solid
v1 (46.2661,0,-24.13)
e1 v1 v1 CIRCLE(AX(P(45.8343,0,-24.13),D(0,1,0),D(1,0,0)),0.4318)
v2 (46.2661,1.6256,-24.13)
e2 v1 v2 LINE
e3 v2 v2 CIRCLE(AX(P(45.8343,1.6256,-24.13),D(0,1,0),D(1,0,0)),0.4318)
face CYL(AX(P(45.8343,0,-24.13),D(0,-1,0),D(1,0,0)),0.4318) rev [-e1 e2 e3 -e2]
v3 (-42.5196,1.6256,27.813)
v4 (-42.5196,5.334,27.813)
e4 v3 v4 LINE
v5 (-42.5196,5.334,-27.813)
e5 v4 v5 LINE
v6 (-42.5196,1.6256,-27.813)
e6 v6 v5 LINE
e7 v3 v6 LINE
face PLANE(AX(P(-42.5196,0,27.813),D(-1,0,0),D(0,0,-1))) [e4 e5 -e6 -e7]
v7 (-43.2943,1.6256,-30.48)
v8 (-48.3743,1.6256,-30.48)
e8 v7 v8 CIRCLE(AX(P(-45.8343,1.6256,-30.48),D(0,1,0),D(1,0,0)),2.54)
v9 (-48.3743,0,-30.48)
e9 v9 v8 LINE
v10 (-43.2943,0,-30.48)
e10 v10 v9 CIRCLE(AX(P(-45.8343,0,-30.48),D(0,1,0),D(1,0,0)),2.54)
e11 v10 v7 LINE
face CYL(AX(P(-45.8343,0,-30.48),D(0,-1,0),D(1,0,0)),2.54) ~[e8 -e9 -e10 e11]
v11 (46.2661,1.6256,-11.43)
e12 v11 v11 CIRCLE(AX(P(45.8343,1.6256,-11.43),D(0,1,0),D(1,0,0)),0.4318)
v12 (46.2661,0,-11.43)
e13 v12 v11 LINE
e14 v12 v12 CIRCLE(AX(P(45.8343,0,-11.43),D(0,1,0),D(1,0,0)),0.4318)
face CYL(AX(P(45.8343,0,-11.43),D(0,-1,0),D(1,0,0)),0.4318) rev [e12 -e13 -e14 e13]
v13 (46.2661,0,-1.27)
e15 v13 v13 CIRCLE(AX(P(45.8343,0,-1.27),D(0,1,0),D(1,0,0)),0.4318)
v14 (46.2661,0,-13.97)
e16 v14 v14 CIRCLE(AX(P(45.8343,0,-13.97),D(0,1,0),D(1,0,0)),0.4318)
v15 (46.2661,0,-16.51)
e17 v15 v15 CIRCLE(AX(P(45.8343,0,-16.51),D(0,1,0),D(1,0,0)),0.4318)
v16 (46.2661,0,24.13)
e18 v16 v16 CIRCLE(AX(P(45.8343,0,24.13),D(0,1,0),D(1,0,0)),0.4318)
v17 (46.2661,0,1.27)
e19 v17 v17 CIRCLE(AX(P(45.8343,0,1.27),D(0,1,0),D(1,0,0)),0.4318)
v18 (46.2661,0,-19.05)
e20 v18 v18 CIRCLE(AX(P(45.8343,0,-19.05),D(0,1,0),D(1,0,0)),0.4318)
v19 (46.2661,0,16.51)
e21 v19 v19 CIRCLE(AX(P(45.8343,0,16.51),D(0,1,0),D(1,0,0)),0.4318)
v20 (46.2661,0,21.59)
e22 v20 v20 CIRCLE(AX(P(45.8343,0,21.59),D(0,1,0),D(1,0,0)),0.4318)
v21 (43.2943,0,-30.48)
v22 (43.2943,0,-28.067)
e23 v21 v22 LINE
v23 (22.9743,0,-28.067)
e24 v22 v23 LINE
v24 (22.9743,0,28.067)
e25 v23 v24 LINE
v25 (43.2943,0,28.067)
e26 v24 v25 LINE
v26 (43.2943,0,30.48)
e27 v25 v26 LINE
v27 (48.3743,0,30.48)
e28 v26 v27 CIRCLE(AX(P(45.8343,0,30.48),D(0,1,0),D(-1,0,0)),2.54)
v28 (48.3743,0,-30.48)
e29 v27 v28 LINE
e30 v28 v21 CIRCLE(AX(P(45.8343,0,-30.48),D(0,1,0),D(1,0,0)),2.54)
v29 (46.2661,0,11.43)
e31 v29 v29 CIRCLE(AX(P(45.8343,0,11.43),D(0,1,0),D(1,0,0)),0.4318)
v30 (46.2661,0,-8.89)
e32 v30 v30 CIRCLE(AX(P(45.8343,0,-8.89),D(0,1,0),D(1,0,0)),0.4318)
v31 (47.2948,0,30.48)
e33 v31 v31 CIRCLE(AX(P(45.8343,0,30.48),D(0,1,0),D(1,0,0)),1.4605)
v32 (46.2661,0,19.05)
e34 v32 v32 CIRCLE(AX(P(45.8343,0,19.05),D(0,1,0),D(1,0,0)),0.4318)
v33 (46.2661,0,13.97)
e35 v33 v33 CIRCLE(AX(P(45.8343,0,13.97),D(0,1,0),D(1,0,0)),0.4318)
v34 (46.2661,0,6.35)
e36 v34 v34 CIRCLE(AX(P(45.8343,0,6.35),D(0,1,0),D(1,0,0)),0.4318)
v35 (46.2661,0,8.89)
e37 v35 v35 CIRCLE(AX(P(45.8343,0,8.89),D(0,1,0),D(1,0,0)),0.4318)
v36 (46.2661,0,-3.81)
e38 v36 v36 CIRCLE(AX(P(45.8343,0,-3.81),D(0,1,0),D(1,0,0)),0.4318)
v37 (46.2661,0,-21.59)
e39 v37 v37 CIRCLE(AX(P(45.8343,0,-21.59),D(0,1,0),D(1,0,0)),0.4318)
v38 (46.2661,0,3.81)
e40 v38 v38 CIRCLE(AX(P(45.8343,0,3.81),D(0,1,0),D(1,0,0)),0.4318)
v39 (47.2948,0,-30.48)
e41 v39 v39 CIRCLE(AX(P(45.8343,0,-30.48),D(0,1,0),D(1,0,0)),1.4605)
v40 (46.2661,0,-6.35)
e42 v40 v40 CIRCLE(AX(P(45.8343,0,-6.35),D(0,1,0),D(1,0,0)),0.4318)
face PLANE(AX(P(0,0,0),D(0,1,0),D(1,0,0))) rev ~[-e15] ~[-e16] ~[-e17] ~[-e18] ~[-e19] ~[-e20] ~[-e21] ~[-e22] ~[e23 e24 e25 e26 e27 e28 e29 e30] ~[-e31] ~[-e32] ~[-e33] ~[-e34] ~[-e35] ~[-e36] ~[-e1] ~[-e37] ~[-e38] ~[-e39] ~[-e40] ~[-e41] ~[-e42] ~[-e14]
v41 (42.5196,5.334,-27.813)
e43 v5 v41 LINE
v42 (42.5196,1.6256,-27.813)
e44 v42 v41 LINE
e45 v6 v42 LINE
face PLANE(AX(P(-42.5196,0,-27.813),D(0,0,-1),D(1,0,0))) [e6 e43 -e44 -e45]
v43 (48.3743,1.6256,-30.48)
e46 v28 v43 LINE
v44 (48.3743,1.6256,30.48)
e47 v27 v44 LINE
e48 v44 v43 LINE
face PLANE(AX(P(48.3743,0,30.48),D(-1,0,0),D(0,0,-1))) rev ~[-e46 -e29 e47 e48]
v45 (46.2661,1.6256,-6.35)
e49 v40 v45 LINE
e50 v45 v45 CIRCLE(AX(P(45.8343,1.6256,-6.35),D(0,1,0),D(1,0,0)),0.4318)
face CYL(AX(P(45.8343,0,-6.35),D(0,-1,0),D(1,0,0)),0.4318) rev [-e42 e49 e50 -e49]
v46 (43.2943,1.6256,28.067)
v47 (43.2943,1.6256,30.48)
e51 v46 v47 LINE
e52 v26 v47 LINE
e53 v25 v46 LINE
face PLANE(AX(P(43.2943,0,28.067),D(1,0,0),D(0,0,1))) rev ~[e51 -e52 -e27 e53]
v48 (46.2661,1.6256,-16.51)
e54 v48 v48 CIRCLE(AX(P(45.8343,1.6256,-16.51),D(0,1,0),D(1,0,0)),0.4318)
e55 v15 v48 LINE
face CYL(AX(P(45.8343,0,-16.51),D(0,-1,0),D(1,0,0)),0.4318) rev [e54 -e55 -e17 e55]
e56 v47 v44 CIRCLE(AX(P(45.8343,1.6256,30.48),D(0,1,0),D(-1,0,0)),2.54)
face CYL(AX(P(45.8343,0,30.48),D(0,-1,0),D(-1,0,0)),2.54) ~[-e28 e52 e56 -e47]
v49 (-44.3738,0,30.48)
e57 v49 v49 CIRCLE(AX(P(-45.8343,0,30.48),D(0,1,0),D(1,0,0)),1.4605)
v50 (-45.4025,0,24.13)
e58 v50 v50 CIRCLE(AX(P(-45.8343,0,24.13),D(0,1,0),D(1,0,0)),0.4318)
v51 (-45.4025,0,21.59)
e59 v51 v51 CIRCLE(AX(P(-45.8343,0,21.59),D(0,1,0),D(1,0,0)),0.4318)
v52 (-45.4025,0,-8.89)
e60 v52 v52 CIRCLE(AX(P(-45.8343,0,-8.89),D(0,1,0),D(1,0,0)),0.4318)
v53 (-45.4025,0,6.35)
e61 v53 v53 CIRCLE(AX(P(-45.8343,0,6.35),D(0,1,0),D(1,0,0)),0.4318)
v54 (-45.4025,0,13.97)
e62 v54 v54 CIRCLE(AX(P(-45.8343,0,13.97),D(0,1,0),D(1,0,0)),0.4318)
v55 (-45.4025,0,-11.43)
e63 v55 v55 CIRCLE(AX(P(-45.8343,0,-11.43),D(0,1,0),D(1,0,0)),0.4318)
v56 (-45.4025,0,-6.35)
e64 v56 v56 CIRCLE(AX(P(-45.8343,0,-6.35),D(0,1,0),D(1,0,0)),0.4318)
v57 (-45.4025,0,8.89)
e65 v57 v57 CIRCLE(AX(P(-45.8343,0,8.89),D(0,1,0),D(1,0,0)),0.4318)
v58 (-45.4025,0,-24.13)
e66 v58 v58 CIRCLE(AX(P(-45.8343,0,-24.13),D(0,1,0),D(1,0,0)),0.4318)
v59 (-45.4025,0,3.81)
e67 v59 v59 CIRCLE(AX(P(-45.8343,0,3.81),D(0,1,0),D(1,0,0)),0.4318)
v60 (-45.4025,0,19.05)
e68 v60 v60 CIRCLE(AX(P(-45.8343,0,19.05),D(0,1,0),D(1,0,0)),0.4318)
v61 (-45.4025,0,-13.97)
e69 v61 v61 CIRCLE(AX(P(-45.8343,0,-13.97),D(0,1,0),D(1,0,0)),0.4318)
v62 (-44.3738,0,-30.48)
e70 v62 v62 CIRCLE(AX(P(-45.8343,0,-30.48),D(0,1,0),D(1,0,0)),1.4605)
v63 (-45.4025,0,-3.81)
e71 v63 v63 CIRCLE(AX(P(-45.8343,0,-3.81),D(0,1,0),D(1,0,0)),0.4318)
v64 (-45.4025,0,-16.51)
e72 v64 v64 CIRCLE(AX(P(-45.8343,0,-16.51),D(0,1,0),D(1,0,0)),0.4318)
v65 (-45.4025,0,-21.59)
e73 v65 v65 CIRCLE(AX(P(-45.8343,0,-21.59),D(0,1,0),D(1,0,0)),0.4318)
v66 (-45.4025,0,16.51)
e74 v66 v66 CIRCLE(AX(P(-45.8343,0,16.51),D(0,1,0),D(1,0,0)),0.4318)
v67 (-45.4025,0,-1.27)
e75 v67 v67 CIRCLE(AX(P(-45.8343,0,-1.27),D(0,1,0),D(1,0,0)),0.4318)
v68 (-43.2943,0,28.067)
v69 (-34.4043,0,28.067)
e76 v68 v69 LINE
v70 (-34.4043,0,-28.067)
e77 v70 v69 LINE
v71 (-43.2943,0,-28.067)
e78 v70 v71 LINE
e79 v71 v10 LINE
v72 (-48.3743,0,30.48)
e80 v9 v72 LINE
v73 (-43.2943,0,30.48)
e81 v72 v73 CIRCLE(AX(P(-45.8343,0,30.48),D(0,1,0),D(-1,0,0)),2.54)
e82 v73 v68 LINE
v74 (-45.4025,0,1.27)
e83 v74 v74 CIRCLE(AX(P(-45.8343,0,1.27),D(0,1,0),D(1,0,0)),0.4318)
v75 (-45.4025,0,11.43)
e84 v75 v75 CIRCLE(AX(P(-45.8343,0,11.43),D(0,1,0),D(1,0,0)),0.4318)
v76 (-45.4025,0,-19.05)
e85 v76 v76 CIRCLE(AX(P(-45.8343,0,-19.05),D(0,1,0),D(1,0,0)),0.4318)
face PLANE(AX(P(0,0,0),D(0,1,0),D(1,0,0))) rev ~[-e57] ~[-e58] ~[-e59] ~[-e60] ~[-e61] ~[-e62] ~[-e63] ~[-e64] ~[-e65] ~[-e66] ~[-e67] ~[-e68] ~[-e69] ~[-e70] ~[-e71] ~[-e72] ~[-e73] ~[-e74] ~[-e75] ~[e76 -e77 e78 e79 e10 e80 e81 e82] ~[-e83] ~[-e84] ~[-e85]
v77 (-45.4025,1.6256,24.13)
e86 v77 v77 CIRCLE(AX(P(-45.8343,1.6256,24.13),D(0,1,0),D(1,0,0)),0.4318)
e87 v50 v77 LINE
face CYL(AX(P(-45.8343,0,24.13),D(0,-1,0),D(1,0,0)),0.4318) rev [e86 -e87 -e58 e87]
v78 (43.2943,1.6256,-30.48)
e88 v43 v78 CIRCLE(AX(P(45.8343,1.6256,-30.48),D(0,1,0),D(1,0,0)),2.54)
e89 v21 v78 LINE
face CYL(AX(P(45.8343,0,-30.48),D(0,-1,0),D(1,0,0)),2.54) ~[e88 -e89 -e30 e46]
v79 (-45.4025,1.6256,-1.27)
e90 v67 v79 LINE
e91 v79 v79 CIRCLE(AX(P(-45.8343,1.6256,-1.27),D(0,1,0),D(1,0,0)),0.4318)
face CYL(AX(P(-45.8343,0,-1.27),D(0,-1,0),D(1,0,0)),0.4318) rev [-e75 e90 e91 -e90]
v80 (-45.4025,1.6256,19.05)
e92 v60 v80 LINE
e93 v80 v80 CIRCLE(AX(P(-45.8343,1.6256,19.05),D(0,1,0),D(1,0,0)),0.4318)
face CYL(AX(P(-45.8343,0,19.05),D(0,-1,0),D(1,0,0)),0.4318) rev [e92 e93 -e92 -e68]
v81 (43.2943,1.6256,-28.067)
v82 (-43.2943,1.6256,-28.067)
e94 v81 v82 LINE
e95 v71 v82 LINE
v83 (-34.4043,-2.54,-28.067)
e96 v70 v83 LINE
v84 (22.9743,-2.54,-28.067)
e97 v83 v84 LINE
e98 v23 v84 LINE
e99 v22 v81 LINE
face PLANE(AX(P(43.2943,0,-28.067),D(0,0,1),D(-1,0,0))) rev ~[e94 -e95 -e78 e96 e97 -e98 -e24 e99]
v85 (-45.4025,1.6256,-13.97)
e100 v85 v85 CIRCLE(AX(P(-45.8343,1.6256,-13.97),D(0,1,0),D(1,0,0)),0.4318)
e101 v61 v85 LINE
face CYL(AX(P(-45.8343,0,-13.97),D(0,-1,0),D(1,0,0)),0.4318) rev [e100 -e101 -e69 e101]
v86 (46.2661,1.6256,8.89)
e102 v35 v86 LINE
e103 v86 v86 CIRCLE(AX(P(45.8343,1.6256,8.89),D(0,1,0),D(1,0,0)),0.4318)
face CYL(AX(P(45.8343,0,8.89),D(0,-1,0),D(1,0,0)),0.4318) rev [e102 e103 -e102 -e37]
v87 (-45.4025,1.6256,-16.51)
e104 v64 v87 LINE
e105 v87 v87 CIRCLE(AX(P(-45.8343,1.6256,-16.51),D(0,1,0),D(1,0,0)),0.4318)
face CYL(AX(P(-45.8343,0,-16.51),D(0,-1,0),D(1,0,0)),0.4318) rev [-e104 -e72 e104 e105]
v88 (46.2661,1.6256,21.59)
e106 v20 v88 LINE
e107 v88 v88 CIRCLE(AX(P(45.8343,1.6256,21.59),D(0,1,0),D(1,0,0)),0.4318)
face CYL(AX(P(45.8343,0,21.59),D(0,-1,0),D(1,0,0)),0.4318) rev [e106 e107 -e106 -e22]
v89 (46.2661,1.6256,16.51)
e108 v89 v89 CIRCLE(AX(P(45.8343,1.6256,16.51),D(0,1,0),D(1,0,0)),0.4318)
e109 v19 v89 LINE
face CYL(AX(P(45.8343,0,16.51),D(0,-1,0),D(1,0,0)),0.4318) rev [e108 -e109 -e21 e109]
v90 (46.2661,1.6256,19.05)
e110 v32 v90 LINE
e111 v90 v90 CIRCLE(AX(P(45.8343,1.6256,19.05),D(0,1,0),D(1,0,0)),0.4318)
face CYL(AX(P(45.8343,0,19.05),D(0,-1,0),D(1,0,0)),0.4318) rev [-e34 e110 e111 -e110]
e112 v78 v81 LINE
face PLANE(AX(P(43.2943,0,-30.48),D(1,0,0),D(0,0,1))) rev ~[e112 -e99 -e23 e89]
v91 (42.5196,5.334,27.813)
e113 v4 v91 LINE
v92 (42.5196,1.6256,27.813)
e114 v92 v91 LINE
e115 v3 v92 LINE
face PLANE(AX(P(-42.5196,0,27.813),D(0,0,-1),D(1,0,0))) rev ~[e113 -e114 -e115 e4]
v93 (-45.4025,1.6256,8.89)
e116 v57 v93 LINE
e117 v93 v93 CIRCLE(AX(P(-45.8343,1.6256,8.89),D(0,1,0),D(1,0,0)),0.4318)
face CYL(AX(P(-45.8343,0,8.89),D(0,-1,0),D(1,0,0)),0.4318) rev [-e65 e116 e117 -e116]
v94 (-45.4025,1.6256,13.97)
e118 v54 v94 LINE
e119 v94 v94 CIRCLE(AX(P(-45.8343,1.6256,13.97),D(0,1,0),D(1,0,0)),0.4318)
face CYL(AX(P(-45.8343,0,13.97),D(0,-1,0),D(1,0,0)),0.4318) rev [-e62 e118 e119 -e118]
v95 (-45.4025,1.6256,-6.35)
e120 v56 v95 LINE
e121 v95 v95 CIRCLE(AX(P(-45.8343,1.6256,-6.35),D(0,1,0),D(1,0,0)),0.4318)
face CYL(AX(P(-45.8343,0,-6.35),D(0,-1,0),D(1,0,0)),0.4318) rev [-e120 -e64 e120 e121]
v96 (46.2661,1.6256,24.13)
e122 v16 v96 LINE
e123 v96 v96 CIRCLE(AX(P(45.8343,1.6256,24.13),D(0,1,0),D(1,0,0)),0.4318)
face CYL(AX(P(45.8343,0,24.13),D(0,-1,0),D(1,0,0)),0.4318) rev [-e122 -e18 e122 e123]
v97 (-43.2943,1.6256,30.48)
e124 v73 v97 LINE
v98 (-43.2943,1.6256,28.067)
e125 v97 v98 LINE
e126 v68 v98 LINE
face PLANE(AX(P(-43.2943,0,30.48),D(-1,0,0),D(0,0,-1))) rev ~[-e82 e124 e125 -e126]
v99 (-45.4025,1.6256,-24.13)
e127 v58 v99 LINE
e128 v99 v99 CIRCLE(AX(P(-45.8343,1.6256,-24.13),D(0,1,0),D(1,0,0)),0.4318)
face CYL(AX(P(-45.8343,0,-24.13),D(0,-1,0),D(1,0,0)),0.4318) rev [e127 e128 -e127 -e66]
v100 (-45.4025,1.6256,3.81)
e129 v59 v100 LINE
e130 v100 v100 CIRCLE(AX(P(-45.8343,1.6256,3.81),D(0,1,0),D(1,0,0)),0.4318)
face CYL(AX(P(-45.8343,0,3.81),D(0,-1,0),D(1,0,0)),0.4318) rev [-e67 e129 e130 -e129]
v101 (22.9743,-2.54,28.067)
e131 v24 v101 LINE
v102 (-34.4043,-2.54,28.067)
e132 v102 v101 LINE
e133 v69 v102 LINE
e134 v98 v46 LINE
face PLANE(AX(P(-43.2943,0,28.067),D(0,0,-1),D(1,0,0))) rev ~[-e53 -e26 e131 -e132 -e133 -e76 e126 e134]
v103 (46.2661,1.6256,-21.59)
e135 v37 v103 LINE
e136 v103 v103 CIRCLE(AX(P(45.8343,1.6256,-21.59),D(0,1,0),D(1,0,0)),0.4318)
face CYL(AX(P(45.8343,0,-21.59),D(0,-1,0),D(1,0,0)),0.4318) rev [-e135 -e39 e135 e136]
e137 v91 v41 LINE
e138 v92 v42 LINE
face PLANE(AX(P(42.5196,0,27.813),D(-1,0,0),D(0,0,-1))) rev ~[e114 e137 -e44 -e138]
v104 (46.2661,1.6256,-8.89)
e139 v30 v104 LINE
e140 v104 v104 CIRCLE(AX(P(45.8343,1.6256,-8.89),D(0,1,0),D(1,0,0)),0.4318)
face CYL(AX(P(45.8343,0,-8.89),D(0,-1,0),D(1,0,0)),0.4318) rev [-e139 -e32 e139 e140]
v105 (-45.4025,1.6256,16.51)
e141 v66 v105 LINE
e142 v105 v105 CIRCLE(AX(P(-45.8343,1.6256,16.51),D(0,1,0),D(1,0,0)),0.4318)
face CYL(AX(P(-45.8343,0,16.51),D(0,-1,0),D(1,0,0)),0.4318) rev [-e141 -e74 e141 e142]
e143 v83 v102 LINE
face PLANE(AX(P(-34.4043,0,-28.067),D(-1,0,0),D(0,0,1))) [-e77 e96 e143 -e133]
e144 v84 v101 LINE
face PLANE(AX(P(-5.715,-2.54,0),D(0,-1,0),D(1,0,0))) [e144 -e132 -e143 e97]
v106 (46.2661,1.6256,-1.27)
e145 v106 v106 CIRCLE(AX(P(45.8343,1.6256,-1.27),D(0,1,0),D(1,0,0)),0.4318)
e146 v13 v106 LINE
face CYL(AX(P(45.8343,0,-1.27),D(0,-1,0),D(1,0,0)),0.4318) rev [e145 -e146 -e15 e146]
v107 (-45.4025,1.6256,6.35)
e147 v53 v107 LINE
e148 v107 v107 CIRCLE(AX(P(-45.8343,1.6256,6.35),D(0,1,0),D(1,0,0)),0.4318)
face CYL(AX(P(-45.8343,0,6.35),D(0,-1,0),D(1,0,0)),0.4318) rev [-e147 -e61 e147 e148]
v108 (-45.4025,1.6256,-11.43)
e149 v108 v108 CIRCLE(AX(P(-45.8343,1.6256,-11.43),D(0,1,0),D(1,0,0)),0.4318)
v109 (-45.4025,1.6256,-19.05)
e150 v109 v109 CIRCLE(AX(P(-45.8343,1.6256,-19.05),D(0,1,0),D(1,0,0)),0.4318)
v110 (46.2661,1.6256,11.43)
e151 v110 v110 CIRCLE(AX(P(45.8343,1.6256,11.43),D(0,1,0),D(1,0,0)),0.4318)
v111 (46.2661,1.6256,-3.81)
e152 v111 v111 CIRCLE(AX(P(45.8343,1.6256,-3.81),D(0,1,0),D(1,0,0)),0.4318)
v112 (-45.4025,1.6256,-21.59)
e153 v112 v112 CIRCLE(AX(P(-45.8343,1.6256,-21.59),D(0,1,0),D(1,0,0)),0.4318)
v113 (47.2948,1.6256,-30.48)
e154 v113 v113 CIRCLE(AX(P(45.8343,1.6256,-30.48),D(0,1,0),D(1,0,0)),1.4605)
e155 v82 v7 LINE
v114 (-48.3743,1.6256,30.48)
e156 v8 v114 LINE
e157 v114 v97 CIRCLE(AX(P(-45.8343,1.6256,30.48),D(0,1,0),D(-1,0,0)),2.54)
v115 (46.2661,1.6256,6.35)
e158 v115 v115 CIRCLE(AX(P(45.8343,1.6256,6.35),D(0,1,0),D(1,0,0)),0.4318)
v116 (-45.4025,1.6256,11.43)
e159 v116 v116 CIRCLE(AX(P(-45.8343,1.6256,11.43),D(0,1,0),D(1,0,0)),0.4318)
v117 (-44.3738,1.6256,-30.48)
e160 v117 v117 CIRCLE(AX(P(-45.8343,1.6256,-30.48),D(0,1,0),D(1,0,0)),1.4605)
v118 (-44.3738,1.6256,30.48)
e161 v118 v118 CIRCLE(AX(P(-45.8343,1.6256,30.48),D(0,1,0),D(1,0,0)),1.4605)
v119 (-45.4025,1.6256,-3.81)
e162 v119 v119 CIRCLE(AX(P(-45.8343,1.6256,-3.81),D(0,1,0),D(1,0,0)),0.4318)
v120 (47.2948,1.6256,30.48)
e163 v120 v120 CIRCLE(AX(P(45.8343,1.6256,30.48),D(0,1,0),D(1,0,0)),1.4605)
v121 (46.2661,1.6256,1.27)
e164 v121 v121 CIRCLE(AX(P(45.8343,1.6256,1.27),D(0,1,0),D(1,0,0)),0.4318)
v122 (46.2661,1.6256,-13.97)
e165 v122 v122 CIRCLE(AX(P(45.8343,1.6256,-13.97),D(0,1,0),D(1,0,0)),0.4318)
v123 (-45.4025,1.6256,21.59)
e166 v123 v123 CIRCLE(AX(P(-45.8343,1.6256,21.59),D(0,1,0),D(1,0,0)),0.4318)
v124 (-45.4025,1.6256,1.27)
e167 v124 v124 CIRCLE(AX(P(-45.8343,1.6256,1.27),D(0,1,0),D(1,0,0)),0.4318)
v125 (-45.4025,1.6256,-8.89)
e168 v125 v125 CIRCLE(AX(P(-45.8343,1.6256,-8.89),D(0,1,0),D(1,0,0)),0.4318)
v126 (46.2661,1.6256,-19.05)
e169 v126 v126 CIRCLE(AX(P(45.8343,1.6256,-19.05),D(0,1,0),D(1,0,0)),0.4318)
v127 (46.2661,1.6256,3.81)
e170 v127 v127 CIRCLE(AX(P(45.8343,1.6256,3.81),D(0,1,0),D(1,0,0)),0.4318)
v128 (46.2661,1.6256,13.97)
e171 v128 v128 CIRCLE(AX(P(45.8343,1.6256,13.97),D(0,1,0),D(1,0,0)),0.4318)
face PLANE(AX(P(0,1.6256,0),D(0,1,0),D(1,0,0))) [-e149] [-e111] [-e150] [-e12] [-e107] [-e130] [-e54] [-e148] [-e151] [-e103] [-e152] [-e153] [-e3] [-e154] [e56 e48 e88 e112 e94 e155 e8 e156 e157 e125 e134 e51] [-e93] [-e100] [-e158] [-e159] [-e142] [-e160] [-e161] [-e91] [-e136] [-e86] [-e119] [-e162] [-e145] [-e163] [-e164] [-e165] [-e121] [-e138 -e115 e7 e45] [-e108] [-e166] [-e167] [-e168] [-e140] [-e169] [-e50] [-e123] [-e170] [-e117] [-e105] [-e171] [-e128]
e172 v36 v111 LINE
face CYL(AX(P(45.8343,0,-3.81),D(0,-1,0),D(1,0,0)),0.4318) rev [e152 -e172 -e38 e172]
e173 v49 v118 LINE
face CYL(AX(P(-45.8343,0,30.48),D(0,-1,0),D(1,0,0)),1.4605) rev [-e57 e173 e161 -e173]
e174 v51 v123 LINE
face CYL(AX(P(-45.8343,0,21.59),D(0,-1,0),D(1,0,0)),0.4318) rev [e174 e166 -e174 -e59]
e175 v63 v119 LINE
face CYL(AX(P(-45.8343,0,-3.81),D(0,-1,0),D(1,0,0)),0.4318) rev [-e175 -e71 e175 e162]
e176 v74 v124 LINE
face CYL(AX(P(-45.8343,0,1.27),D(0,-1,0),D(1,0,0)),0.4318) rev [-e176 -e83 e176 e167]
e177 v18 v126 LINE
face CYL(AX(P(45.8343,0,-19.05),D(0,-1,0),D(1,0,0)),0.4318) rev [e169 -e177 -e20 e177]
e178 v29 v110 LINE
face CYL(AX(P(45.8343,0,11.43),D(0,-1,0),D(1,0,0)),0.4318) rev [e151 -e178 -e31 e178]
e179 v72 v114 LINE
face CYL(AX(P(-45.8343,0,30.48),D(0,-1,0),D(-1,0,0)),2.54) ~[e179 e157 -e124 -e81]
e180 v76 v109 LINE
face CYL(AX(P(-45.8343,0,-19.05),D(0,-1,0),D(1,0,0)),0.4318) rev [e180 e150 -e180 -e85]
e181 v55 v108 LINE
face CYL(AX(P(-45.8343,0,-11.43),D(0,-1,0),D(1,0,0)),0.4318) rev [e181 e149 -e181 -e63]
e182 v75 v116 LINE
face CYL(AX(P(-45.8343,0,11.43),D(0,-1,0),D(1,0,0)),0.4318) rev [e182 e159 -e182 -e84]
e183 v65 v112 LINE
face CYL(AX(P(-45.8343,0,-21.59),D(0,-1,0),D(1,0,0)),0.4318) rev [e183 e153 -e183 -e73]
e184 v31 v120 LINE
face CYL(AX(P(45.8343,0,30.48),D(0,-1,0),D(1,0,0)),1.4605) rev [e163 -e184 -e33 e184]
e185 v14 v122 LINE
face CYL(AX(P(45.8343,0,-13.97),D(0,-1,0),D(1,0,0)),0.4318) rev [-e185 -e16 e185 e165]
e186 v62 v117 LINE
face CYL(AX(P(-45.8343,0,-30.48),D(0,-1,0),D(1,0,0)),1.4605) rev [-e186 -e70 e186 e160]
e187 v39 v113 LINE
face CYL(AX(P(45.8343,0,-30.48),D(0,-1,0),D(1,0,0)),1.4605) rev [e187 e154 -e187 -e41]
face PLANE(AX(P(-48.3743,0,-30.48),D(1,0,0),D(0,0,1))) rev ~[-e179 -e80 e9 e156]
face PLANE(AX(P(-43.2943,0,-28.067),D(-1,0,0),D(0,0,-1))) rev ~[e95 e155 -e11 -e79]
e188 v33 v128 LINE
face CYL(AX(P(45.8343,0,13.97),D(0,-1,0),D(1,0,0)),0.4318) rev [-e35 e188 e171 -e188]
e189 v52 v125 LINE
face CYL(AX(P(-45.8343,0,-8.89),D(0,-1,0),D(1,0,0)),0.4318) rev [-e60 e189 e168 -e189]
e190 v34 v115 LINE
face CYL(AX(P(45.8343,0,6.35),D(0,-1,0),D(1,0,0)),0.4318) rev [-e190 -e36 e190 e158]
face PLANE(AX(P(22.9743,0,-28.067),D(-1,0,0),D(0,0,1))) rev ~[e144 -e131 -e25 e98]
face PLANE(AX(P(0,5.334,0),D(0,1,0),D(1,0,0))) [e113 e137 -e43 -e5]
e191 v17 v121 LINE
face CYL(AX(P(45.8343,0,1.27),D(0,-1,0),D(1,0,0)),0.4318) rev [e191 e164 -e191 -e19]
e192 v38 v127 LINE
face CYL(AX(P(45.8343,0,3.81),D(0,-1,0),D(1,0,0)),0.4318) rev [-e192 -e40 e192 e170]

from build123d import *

# Parameters (mm, degrees)
SKETCH1_R           = 1.4605
SKETCH1_R_2         = 0.4318
SKETCH1_W           = 85.0392
SKETCH1_H           = 55.626
BOSS_EXTRUDE1_DEPTH = 1.6256
SKETCH1_2_W         = 85.0392
SKETCH1_2_H         = 55.626
BOSS_EXTRUDE2_DEPTH = 5.334
SKETCH2_W           = 57.3786
SKETCH2_H           = 56.134
BOSS_EXTRUDE3_DEPTH = 2.54


with BuildPart() as part:
    # Sketch1 → Boss-Extrude1 (new body)
    with BuildSketch(Plane(origin=(0, 0, 0), x_dir=(1, 0, 0), z_dir=(0, 1, 0))):
        with BuildLine():
            Line((43.2943, 28.067), (-43.2943, 28.067))
            Line((-43.2943, 28.067), (-43.2943, 30.48))
            ThreePointArc((-43.2943, 30.48), (-45.8343, 33.02), (-48.3743, 30.48))
            Line((-48.3743, 30.48), (-48.3743, -30.48))
            ThreePointArc((-48.3743, -30.48), (-45.8343, -33.02), (-43.2943, -30.48))
            Line((-43.2943, -30.48), (-43.2943, -28.067))
            Line((-43.2943, -28.067), (43.2943, -28.067))
            Line((43.2943, -28.067), (43.2943, -30.48))
            ThreePointArc((43.2943, -30.48), (45.8343, -33.02), (48.3743, -30.48))
            Line((48.3743, -30.48), (48.3743, 30.48))
            ThreePointArc((48.3743, 30.48), (45.8343, 33.02), (43.2943, 30.48))
            Line((43.2943, 30.48), (43.2943, 28.067))
        make_face()
        with Locations((-45.8343, 30.48)):
            Circle(SKETCH1_R, mode=Mode.SUBTRACT)
        with Locations((-45.8343, -30.48)):
            Circle(SKETCH1_R, mode=Mode.SUBTRACT)
        with Locations((45.8343, -30.48)):
            Circle(SKETCH1_R, mode=Mode.SUBTRACT)
        with Locations((45.8343, 30.48)):
            Circle(SKETCH1_R, mode=Mode.SUBTRACT)
        with Locations((-45.8343, 24.13)):
            Circle(SKETCH1_R_2, mode=Mode.SUBTRACT)
        with Locations((-45.8343, 21.59)):
            Circle(SKETCH1_R_2, mode=Mode.SUBTRACT)
        with Locations((-45.8343, 19.05)):
            Circle(SKETCH1_R_2, mode=Mode.SUBTRACT)
        with Locations((-45.8343, 16.51)):
            Circle(SKETCH1_R_2, mode=Mode.SUBTRACT)
        with Locations((-45.8343, 13.97)):
            Circle(SKETCH1_R_2, mode=Mode.SUBTRACT)
        with Locations((-45.8343, 11.43)):
            Circle(SKETCH1_R_2, mode=Mode.SUBTRACT)
        with Locations((-45.8343, 8.89)):
            Circle(SKETCH1_R_2, mode=Mode.SUBTRACT)
        with Locations((-45.8343, 6.35)):
            Circle(SKETCH1_R_2, mode=Mode.SUBTRACT)
        with Locations((-45.8343, 3.81)):
            Circle(SKETCH1_R_2, mode=Mode.SUBTRACT)
        with Locations((-45.8343, 1.27)):
            Circle(SKETCH1_R_2, mode=Mode.SUBTRACT)
        with Locations((-45.8343, -1.27)):
            Circle(SKETCH1_R_2, mode=Mode.SUBTRACT)
        with Locations((-45.8343, -3.81)):
            Circle(SKETCH1_R_2, mode=Mode.SUBTRACT)
        with Locations((-45.8343, -6.35)):
            Circle(SKETCH1_R_2, mode=Mode.SUBTRACT)
        with Locations((-45.8343, -8.89)):
            Circle(SKETCH1_R_2, mode=Mode.SUBTRACT)
        with Locations((-45.8343, -11.43)):
            Circle(SKETCH1_R_2, mode=Mode.SUBTRACT)
        with Locations((-45.8343, -13.97)):
            Circle(SKETCH1_R_2, mode=Mode.SUBTRACT)
        with Locations((-45.8343, -16.51)):
            Circle(SKETCH1_R_2, mode=Mode.SUBTRACT)
        with Locations((-45.8343, -19.05)):
            Circle(SKETCH1_R_2, mode=Mode.SUBTRACT)
        with Locations((-45.8343, -21.59)):
            Circle(SKETCH1_R_2, mode=Mode.SUBTRACT)
        with Locations((-45.8343, -24.13)):
            Circle(SKETCH1_R_2, mode=Mode.SUBTRACT)
        with Locations((45.8343, -24.13)):
            Circle(SKETCH1_R_2, mode=Mode.SUBTRACT)
        with Locations((45.8343, -21.59)):
            Circle(SKETCH1_R_2, mode=Mode.SUBTRACT)
        with Locations((45.8343, -19.05)):
            Circle(SKETCH1_R_2, mode=Mode.SUBTRACT)
        with Locations((45.8343, -16.51)):
            Circle(SKETCH1_R_2, mode=Mode.SUBTRACT)
        with Locations((45.8343, -13.97)):
            Circle(SKETCH1_R_2, mode=Mode.SUBTRACT)
        with Locations((45.8343, -11.43)):
            Circle(SKETCH1_R_2, mode=Mode.SUBTRACT)
        with Locations((45.8343, -8.89)):
            Circle(SKETCH1_R_2, mode=Mode.SUBTRACT)
        with Locations((45.8343, -6.35)):
            Circle(SKETCH1_R_2, mode=Mode.SUBTRACT)
        with Locations((45.8343, -3.81)):
            Circle(SKETCH1_R_2, mode=Mode.SUBTRACT)
        with Locations((45.8343, -1.27)):
            Circle(SKETCH1_R_2, mode=Mode.SUBTRACT)
        with Locations((45.8343, 1.27)):
            Circle(SKETCH1_R_2, mode=Mode.SUBTRACT)
        with Locations((45.8343, 3.81)):
            Circle(SKETCH1_R_2, mode=Mode.SUBTRACT)
        with Locations((45.8343, 6.35)):
            Circle(SKETCH1_R_2, mode=Mode.SUBTRACT)
        with Locations((45.8343, 8.89)):
            Circle(SKETCH1_R_2, mode=Mode.SUBTRACT)
        with Locations((45.8343, 11.43)):
            Circle(SKETCH1_R_2, mode=Mode.SUBTRACT)
        with Locations((45.8343, 13.97)):
            Circle(SKETCH1_R_2, mode=Mode.SUBTRACT)
        with Locations((45.8343, 16.51)):
            Circle(SKETCH1_R_2, mode=Mode.SUBTRACT)
        with Locations((45.8343, 19.05)):
            Circle(SKETCH1_R_2, mode=Mode.SUBTRACT)
        with Locations((45.8343, 21.59)):
            Circle(SKETCH1_R_2, mode=Mode.SUBTRACT)
        with Locations((45.8343, 24.13)):
            Circle(SKETCH1_R_2, mode=Mode.SUBTRACT)
        Rectangle(SKETCH1_W, SKETCH1_H, mode=Mode.SUBTRACT)
    extrude(amount=BOSS_EXTRUDE1_DEPTH)

    # Sketch1<2> → Boss-Extrude2 (add)
    with BuildSketch(Plane(origin=(0, 0, 0), x_dir=(1, 0, 0), z_dir=(0, 1, 0))):
        Rectangle(SKETCH1_2_W, SKETCH1_2_H)
    extrude(amount=BOSS_EXTRUDE2_DEPTH)

    # Sketch2 → Boss-Extrude3 (add)
    with BuildSketch(Plane.XZ):
        with Locations((-5.715, 0)):
            Rectangle(SKETCH2_W, SKETCH2_H)
    extrude(amount=BOSS_EXTRUDE3_DEPTH)


solid = part.part
